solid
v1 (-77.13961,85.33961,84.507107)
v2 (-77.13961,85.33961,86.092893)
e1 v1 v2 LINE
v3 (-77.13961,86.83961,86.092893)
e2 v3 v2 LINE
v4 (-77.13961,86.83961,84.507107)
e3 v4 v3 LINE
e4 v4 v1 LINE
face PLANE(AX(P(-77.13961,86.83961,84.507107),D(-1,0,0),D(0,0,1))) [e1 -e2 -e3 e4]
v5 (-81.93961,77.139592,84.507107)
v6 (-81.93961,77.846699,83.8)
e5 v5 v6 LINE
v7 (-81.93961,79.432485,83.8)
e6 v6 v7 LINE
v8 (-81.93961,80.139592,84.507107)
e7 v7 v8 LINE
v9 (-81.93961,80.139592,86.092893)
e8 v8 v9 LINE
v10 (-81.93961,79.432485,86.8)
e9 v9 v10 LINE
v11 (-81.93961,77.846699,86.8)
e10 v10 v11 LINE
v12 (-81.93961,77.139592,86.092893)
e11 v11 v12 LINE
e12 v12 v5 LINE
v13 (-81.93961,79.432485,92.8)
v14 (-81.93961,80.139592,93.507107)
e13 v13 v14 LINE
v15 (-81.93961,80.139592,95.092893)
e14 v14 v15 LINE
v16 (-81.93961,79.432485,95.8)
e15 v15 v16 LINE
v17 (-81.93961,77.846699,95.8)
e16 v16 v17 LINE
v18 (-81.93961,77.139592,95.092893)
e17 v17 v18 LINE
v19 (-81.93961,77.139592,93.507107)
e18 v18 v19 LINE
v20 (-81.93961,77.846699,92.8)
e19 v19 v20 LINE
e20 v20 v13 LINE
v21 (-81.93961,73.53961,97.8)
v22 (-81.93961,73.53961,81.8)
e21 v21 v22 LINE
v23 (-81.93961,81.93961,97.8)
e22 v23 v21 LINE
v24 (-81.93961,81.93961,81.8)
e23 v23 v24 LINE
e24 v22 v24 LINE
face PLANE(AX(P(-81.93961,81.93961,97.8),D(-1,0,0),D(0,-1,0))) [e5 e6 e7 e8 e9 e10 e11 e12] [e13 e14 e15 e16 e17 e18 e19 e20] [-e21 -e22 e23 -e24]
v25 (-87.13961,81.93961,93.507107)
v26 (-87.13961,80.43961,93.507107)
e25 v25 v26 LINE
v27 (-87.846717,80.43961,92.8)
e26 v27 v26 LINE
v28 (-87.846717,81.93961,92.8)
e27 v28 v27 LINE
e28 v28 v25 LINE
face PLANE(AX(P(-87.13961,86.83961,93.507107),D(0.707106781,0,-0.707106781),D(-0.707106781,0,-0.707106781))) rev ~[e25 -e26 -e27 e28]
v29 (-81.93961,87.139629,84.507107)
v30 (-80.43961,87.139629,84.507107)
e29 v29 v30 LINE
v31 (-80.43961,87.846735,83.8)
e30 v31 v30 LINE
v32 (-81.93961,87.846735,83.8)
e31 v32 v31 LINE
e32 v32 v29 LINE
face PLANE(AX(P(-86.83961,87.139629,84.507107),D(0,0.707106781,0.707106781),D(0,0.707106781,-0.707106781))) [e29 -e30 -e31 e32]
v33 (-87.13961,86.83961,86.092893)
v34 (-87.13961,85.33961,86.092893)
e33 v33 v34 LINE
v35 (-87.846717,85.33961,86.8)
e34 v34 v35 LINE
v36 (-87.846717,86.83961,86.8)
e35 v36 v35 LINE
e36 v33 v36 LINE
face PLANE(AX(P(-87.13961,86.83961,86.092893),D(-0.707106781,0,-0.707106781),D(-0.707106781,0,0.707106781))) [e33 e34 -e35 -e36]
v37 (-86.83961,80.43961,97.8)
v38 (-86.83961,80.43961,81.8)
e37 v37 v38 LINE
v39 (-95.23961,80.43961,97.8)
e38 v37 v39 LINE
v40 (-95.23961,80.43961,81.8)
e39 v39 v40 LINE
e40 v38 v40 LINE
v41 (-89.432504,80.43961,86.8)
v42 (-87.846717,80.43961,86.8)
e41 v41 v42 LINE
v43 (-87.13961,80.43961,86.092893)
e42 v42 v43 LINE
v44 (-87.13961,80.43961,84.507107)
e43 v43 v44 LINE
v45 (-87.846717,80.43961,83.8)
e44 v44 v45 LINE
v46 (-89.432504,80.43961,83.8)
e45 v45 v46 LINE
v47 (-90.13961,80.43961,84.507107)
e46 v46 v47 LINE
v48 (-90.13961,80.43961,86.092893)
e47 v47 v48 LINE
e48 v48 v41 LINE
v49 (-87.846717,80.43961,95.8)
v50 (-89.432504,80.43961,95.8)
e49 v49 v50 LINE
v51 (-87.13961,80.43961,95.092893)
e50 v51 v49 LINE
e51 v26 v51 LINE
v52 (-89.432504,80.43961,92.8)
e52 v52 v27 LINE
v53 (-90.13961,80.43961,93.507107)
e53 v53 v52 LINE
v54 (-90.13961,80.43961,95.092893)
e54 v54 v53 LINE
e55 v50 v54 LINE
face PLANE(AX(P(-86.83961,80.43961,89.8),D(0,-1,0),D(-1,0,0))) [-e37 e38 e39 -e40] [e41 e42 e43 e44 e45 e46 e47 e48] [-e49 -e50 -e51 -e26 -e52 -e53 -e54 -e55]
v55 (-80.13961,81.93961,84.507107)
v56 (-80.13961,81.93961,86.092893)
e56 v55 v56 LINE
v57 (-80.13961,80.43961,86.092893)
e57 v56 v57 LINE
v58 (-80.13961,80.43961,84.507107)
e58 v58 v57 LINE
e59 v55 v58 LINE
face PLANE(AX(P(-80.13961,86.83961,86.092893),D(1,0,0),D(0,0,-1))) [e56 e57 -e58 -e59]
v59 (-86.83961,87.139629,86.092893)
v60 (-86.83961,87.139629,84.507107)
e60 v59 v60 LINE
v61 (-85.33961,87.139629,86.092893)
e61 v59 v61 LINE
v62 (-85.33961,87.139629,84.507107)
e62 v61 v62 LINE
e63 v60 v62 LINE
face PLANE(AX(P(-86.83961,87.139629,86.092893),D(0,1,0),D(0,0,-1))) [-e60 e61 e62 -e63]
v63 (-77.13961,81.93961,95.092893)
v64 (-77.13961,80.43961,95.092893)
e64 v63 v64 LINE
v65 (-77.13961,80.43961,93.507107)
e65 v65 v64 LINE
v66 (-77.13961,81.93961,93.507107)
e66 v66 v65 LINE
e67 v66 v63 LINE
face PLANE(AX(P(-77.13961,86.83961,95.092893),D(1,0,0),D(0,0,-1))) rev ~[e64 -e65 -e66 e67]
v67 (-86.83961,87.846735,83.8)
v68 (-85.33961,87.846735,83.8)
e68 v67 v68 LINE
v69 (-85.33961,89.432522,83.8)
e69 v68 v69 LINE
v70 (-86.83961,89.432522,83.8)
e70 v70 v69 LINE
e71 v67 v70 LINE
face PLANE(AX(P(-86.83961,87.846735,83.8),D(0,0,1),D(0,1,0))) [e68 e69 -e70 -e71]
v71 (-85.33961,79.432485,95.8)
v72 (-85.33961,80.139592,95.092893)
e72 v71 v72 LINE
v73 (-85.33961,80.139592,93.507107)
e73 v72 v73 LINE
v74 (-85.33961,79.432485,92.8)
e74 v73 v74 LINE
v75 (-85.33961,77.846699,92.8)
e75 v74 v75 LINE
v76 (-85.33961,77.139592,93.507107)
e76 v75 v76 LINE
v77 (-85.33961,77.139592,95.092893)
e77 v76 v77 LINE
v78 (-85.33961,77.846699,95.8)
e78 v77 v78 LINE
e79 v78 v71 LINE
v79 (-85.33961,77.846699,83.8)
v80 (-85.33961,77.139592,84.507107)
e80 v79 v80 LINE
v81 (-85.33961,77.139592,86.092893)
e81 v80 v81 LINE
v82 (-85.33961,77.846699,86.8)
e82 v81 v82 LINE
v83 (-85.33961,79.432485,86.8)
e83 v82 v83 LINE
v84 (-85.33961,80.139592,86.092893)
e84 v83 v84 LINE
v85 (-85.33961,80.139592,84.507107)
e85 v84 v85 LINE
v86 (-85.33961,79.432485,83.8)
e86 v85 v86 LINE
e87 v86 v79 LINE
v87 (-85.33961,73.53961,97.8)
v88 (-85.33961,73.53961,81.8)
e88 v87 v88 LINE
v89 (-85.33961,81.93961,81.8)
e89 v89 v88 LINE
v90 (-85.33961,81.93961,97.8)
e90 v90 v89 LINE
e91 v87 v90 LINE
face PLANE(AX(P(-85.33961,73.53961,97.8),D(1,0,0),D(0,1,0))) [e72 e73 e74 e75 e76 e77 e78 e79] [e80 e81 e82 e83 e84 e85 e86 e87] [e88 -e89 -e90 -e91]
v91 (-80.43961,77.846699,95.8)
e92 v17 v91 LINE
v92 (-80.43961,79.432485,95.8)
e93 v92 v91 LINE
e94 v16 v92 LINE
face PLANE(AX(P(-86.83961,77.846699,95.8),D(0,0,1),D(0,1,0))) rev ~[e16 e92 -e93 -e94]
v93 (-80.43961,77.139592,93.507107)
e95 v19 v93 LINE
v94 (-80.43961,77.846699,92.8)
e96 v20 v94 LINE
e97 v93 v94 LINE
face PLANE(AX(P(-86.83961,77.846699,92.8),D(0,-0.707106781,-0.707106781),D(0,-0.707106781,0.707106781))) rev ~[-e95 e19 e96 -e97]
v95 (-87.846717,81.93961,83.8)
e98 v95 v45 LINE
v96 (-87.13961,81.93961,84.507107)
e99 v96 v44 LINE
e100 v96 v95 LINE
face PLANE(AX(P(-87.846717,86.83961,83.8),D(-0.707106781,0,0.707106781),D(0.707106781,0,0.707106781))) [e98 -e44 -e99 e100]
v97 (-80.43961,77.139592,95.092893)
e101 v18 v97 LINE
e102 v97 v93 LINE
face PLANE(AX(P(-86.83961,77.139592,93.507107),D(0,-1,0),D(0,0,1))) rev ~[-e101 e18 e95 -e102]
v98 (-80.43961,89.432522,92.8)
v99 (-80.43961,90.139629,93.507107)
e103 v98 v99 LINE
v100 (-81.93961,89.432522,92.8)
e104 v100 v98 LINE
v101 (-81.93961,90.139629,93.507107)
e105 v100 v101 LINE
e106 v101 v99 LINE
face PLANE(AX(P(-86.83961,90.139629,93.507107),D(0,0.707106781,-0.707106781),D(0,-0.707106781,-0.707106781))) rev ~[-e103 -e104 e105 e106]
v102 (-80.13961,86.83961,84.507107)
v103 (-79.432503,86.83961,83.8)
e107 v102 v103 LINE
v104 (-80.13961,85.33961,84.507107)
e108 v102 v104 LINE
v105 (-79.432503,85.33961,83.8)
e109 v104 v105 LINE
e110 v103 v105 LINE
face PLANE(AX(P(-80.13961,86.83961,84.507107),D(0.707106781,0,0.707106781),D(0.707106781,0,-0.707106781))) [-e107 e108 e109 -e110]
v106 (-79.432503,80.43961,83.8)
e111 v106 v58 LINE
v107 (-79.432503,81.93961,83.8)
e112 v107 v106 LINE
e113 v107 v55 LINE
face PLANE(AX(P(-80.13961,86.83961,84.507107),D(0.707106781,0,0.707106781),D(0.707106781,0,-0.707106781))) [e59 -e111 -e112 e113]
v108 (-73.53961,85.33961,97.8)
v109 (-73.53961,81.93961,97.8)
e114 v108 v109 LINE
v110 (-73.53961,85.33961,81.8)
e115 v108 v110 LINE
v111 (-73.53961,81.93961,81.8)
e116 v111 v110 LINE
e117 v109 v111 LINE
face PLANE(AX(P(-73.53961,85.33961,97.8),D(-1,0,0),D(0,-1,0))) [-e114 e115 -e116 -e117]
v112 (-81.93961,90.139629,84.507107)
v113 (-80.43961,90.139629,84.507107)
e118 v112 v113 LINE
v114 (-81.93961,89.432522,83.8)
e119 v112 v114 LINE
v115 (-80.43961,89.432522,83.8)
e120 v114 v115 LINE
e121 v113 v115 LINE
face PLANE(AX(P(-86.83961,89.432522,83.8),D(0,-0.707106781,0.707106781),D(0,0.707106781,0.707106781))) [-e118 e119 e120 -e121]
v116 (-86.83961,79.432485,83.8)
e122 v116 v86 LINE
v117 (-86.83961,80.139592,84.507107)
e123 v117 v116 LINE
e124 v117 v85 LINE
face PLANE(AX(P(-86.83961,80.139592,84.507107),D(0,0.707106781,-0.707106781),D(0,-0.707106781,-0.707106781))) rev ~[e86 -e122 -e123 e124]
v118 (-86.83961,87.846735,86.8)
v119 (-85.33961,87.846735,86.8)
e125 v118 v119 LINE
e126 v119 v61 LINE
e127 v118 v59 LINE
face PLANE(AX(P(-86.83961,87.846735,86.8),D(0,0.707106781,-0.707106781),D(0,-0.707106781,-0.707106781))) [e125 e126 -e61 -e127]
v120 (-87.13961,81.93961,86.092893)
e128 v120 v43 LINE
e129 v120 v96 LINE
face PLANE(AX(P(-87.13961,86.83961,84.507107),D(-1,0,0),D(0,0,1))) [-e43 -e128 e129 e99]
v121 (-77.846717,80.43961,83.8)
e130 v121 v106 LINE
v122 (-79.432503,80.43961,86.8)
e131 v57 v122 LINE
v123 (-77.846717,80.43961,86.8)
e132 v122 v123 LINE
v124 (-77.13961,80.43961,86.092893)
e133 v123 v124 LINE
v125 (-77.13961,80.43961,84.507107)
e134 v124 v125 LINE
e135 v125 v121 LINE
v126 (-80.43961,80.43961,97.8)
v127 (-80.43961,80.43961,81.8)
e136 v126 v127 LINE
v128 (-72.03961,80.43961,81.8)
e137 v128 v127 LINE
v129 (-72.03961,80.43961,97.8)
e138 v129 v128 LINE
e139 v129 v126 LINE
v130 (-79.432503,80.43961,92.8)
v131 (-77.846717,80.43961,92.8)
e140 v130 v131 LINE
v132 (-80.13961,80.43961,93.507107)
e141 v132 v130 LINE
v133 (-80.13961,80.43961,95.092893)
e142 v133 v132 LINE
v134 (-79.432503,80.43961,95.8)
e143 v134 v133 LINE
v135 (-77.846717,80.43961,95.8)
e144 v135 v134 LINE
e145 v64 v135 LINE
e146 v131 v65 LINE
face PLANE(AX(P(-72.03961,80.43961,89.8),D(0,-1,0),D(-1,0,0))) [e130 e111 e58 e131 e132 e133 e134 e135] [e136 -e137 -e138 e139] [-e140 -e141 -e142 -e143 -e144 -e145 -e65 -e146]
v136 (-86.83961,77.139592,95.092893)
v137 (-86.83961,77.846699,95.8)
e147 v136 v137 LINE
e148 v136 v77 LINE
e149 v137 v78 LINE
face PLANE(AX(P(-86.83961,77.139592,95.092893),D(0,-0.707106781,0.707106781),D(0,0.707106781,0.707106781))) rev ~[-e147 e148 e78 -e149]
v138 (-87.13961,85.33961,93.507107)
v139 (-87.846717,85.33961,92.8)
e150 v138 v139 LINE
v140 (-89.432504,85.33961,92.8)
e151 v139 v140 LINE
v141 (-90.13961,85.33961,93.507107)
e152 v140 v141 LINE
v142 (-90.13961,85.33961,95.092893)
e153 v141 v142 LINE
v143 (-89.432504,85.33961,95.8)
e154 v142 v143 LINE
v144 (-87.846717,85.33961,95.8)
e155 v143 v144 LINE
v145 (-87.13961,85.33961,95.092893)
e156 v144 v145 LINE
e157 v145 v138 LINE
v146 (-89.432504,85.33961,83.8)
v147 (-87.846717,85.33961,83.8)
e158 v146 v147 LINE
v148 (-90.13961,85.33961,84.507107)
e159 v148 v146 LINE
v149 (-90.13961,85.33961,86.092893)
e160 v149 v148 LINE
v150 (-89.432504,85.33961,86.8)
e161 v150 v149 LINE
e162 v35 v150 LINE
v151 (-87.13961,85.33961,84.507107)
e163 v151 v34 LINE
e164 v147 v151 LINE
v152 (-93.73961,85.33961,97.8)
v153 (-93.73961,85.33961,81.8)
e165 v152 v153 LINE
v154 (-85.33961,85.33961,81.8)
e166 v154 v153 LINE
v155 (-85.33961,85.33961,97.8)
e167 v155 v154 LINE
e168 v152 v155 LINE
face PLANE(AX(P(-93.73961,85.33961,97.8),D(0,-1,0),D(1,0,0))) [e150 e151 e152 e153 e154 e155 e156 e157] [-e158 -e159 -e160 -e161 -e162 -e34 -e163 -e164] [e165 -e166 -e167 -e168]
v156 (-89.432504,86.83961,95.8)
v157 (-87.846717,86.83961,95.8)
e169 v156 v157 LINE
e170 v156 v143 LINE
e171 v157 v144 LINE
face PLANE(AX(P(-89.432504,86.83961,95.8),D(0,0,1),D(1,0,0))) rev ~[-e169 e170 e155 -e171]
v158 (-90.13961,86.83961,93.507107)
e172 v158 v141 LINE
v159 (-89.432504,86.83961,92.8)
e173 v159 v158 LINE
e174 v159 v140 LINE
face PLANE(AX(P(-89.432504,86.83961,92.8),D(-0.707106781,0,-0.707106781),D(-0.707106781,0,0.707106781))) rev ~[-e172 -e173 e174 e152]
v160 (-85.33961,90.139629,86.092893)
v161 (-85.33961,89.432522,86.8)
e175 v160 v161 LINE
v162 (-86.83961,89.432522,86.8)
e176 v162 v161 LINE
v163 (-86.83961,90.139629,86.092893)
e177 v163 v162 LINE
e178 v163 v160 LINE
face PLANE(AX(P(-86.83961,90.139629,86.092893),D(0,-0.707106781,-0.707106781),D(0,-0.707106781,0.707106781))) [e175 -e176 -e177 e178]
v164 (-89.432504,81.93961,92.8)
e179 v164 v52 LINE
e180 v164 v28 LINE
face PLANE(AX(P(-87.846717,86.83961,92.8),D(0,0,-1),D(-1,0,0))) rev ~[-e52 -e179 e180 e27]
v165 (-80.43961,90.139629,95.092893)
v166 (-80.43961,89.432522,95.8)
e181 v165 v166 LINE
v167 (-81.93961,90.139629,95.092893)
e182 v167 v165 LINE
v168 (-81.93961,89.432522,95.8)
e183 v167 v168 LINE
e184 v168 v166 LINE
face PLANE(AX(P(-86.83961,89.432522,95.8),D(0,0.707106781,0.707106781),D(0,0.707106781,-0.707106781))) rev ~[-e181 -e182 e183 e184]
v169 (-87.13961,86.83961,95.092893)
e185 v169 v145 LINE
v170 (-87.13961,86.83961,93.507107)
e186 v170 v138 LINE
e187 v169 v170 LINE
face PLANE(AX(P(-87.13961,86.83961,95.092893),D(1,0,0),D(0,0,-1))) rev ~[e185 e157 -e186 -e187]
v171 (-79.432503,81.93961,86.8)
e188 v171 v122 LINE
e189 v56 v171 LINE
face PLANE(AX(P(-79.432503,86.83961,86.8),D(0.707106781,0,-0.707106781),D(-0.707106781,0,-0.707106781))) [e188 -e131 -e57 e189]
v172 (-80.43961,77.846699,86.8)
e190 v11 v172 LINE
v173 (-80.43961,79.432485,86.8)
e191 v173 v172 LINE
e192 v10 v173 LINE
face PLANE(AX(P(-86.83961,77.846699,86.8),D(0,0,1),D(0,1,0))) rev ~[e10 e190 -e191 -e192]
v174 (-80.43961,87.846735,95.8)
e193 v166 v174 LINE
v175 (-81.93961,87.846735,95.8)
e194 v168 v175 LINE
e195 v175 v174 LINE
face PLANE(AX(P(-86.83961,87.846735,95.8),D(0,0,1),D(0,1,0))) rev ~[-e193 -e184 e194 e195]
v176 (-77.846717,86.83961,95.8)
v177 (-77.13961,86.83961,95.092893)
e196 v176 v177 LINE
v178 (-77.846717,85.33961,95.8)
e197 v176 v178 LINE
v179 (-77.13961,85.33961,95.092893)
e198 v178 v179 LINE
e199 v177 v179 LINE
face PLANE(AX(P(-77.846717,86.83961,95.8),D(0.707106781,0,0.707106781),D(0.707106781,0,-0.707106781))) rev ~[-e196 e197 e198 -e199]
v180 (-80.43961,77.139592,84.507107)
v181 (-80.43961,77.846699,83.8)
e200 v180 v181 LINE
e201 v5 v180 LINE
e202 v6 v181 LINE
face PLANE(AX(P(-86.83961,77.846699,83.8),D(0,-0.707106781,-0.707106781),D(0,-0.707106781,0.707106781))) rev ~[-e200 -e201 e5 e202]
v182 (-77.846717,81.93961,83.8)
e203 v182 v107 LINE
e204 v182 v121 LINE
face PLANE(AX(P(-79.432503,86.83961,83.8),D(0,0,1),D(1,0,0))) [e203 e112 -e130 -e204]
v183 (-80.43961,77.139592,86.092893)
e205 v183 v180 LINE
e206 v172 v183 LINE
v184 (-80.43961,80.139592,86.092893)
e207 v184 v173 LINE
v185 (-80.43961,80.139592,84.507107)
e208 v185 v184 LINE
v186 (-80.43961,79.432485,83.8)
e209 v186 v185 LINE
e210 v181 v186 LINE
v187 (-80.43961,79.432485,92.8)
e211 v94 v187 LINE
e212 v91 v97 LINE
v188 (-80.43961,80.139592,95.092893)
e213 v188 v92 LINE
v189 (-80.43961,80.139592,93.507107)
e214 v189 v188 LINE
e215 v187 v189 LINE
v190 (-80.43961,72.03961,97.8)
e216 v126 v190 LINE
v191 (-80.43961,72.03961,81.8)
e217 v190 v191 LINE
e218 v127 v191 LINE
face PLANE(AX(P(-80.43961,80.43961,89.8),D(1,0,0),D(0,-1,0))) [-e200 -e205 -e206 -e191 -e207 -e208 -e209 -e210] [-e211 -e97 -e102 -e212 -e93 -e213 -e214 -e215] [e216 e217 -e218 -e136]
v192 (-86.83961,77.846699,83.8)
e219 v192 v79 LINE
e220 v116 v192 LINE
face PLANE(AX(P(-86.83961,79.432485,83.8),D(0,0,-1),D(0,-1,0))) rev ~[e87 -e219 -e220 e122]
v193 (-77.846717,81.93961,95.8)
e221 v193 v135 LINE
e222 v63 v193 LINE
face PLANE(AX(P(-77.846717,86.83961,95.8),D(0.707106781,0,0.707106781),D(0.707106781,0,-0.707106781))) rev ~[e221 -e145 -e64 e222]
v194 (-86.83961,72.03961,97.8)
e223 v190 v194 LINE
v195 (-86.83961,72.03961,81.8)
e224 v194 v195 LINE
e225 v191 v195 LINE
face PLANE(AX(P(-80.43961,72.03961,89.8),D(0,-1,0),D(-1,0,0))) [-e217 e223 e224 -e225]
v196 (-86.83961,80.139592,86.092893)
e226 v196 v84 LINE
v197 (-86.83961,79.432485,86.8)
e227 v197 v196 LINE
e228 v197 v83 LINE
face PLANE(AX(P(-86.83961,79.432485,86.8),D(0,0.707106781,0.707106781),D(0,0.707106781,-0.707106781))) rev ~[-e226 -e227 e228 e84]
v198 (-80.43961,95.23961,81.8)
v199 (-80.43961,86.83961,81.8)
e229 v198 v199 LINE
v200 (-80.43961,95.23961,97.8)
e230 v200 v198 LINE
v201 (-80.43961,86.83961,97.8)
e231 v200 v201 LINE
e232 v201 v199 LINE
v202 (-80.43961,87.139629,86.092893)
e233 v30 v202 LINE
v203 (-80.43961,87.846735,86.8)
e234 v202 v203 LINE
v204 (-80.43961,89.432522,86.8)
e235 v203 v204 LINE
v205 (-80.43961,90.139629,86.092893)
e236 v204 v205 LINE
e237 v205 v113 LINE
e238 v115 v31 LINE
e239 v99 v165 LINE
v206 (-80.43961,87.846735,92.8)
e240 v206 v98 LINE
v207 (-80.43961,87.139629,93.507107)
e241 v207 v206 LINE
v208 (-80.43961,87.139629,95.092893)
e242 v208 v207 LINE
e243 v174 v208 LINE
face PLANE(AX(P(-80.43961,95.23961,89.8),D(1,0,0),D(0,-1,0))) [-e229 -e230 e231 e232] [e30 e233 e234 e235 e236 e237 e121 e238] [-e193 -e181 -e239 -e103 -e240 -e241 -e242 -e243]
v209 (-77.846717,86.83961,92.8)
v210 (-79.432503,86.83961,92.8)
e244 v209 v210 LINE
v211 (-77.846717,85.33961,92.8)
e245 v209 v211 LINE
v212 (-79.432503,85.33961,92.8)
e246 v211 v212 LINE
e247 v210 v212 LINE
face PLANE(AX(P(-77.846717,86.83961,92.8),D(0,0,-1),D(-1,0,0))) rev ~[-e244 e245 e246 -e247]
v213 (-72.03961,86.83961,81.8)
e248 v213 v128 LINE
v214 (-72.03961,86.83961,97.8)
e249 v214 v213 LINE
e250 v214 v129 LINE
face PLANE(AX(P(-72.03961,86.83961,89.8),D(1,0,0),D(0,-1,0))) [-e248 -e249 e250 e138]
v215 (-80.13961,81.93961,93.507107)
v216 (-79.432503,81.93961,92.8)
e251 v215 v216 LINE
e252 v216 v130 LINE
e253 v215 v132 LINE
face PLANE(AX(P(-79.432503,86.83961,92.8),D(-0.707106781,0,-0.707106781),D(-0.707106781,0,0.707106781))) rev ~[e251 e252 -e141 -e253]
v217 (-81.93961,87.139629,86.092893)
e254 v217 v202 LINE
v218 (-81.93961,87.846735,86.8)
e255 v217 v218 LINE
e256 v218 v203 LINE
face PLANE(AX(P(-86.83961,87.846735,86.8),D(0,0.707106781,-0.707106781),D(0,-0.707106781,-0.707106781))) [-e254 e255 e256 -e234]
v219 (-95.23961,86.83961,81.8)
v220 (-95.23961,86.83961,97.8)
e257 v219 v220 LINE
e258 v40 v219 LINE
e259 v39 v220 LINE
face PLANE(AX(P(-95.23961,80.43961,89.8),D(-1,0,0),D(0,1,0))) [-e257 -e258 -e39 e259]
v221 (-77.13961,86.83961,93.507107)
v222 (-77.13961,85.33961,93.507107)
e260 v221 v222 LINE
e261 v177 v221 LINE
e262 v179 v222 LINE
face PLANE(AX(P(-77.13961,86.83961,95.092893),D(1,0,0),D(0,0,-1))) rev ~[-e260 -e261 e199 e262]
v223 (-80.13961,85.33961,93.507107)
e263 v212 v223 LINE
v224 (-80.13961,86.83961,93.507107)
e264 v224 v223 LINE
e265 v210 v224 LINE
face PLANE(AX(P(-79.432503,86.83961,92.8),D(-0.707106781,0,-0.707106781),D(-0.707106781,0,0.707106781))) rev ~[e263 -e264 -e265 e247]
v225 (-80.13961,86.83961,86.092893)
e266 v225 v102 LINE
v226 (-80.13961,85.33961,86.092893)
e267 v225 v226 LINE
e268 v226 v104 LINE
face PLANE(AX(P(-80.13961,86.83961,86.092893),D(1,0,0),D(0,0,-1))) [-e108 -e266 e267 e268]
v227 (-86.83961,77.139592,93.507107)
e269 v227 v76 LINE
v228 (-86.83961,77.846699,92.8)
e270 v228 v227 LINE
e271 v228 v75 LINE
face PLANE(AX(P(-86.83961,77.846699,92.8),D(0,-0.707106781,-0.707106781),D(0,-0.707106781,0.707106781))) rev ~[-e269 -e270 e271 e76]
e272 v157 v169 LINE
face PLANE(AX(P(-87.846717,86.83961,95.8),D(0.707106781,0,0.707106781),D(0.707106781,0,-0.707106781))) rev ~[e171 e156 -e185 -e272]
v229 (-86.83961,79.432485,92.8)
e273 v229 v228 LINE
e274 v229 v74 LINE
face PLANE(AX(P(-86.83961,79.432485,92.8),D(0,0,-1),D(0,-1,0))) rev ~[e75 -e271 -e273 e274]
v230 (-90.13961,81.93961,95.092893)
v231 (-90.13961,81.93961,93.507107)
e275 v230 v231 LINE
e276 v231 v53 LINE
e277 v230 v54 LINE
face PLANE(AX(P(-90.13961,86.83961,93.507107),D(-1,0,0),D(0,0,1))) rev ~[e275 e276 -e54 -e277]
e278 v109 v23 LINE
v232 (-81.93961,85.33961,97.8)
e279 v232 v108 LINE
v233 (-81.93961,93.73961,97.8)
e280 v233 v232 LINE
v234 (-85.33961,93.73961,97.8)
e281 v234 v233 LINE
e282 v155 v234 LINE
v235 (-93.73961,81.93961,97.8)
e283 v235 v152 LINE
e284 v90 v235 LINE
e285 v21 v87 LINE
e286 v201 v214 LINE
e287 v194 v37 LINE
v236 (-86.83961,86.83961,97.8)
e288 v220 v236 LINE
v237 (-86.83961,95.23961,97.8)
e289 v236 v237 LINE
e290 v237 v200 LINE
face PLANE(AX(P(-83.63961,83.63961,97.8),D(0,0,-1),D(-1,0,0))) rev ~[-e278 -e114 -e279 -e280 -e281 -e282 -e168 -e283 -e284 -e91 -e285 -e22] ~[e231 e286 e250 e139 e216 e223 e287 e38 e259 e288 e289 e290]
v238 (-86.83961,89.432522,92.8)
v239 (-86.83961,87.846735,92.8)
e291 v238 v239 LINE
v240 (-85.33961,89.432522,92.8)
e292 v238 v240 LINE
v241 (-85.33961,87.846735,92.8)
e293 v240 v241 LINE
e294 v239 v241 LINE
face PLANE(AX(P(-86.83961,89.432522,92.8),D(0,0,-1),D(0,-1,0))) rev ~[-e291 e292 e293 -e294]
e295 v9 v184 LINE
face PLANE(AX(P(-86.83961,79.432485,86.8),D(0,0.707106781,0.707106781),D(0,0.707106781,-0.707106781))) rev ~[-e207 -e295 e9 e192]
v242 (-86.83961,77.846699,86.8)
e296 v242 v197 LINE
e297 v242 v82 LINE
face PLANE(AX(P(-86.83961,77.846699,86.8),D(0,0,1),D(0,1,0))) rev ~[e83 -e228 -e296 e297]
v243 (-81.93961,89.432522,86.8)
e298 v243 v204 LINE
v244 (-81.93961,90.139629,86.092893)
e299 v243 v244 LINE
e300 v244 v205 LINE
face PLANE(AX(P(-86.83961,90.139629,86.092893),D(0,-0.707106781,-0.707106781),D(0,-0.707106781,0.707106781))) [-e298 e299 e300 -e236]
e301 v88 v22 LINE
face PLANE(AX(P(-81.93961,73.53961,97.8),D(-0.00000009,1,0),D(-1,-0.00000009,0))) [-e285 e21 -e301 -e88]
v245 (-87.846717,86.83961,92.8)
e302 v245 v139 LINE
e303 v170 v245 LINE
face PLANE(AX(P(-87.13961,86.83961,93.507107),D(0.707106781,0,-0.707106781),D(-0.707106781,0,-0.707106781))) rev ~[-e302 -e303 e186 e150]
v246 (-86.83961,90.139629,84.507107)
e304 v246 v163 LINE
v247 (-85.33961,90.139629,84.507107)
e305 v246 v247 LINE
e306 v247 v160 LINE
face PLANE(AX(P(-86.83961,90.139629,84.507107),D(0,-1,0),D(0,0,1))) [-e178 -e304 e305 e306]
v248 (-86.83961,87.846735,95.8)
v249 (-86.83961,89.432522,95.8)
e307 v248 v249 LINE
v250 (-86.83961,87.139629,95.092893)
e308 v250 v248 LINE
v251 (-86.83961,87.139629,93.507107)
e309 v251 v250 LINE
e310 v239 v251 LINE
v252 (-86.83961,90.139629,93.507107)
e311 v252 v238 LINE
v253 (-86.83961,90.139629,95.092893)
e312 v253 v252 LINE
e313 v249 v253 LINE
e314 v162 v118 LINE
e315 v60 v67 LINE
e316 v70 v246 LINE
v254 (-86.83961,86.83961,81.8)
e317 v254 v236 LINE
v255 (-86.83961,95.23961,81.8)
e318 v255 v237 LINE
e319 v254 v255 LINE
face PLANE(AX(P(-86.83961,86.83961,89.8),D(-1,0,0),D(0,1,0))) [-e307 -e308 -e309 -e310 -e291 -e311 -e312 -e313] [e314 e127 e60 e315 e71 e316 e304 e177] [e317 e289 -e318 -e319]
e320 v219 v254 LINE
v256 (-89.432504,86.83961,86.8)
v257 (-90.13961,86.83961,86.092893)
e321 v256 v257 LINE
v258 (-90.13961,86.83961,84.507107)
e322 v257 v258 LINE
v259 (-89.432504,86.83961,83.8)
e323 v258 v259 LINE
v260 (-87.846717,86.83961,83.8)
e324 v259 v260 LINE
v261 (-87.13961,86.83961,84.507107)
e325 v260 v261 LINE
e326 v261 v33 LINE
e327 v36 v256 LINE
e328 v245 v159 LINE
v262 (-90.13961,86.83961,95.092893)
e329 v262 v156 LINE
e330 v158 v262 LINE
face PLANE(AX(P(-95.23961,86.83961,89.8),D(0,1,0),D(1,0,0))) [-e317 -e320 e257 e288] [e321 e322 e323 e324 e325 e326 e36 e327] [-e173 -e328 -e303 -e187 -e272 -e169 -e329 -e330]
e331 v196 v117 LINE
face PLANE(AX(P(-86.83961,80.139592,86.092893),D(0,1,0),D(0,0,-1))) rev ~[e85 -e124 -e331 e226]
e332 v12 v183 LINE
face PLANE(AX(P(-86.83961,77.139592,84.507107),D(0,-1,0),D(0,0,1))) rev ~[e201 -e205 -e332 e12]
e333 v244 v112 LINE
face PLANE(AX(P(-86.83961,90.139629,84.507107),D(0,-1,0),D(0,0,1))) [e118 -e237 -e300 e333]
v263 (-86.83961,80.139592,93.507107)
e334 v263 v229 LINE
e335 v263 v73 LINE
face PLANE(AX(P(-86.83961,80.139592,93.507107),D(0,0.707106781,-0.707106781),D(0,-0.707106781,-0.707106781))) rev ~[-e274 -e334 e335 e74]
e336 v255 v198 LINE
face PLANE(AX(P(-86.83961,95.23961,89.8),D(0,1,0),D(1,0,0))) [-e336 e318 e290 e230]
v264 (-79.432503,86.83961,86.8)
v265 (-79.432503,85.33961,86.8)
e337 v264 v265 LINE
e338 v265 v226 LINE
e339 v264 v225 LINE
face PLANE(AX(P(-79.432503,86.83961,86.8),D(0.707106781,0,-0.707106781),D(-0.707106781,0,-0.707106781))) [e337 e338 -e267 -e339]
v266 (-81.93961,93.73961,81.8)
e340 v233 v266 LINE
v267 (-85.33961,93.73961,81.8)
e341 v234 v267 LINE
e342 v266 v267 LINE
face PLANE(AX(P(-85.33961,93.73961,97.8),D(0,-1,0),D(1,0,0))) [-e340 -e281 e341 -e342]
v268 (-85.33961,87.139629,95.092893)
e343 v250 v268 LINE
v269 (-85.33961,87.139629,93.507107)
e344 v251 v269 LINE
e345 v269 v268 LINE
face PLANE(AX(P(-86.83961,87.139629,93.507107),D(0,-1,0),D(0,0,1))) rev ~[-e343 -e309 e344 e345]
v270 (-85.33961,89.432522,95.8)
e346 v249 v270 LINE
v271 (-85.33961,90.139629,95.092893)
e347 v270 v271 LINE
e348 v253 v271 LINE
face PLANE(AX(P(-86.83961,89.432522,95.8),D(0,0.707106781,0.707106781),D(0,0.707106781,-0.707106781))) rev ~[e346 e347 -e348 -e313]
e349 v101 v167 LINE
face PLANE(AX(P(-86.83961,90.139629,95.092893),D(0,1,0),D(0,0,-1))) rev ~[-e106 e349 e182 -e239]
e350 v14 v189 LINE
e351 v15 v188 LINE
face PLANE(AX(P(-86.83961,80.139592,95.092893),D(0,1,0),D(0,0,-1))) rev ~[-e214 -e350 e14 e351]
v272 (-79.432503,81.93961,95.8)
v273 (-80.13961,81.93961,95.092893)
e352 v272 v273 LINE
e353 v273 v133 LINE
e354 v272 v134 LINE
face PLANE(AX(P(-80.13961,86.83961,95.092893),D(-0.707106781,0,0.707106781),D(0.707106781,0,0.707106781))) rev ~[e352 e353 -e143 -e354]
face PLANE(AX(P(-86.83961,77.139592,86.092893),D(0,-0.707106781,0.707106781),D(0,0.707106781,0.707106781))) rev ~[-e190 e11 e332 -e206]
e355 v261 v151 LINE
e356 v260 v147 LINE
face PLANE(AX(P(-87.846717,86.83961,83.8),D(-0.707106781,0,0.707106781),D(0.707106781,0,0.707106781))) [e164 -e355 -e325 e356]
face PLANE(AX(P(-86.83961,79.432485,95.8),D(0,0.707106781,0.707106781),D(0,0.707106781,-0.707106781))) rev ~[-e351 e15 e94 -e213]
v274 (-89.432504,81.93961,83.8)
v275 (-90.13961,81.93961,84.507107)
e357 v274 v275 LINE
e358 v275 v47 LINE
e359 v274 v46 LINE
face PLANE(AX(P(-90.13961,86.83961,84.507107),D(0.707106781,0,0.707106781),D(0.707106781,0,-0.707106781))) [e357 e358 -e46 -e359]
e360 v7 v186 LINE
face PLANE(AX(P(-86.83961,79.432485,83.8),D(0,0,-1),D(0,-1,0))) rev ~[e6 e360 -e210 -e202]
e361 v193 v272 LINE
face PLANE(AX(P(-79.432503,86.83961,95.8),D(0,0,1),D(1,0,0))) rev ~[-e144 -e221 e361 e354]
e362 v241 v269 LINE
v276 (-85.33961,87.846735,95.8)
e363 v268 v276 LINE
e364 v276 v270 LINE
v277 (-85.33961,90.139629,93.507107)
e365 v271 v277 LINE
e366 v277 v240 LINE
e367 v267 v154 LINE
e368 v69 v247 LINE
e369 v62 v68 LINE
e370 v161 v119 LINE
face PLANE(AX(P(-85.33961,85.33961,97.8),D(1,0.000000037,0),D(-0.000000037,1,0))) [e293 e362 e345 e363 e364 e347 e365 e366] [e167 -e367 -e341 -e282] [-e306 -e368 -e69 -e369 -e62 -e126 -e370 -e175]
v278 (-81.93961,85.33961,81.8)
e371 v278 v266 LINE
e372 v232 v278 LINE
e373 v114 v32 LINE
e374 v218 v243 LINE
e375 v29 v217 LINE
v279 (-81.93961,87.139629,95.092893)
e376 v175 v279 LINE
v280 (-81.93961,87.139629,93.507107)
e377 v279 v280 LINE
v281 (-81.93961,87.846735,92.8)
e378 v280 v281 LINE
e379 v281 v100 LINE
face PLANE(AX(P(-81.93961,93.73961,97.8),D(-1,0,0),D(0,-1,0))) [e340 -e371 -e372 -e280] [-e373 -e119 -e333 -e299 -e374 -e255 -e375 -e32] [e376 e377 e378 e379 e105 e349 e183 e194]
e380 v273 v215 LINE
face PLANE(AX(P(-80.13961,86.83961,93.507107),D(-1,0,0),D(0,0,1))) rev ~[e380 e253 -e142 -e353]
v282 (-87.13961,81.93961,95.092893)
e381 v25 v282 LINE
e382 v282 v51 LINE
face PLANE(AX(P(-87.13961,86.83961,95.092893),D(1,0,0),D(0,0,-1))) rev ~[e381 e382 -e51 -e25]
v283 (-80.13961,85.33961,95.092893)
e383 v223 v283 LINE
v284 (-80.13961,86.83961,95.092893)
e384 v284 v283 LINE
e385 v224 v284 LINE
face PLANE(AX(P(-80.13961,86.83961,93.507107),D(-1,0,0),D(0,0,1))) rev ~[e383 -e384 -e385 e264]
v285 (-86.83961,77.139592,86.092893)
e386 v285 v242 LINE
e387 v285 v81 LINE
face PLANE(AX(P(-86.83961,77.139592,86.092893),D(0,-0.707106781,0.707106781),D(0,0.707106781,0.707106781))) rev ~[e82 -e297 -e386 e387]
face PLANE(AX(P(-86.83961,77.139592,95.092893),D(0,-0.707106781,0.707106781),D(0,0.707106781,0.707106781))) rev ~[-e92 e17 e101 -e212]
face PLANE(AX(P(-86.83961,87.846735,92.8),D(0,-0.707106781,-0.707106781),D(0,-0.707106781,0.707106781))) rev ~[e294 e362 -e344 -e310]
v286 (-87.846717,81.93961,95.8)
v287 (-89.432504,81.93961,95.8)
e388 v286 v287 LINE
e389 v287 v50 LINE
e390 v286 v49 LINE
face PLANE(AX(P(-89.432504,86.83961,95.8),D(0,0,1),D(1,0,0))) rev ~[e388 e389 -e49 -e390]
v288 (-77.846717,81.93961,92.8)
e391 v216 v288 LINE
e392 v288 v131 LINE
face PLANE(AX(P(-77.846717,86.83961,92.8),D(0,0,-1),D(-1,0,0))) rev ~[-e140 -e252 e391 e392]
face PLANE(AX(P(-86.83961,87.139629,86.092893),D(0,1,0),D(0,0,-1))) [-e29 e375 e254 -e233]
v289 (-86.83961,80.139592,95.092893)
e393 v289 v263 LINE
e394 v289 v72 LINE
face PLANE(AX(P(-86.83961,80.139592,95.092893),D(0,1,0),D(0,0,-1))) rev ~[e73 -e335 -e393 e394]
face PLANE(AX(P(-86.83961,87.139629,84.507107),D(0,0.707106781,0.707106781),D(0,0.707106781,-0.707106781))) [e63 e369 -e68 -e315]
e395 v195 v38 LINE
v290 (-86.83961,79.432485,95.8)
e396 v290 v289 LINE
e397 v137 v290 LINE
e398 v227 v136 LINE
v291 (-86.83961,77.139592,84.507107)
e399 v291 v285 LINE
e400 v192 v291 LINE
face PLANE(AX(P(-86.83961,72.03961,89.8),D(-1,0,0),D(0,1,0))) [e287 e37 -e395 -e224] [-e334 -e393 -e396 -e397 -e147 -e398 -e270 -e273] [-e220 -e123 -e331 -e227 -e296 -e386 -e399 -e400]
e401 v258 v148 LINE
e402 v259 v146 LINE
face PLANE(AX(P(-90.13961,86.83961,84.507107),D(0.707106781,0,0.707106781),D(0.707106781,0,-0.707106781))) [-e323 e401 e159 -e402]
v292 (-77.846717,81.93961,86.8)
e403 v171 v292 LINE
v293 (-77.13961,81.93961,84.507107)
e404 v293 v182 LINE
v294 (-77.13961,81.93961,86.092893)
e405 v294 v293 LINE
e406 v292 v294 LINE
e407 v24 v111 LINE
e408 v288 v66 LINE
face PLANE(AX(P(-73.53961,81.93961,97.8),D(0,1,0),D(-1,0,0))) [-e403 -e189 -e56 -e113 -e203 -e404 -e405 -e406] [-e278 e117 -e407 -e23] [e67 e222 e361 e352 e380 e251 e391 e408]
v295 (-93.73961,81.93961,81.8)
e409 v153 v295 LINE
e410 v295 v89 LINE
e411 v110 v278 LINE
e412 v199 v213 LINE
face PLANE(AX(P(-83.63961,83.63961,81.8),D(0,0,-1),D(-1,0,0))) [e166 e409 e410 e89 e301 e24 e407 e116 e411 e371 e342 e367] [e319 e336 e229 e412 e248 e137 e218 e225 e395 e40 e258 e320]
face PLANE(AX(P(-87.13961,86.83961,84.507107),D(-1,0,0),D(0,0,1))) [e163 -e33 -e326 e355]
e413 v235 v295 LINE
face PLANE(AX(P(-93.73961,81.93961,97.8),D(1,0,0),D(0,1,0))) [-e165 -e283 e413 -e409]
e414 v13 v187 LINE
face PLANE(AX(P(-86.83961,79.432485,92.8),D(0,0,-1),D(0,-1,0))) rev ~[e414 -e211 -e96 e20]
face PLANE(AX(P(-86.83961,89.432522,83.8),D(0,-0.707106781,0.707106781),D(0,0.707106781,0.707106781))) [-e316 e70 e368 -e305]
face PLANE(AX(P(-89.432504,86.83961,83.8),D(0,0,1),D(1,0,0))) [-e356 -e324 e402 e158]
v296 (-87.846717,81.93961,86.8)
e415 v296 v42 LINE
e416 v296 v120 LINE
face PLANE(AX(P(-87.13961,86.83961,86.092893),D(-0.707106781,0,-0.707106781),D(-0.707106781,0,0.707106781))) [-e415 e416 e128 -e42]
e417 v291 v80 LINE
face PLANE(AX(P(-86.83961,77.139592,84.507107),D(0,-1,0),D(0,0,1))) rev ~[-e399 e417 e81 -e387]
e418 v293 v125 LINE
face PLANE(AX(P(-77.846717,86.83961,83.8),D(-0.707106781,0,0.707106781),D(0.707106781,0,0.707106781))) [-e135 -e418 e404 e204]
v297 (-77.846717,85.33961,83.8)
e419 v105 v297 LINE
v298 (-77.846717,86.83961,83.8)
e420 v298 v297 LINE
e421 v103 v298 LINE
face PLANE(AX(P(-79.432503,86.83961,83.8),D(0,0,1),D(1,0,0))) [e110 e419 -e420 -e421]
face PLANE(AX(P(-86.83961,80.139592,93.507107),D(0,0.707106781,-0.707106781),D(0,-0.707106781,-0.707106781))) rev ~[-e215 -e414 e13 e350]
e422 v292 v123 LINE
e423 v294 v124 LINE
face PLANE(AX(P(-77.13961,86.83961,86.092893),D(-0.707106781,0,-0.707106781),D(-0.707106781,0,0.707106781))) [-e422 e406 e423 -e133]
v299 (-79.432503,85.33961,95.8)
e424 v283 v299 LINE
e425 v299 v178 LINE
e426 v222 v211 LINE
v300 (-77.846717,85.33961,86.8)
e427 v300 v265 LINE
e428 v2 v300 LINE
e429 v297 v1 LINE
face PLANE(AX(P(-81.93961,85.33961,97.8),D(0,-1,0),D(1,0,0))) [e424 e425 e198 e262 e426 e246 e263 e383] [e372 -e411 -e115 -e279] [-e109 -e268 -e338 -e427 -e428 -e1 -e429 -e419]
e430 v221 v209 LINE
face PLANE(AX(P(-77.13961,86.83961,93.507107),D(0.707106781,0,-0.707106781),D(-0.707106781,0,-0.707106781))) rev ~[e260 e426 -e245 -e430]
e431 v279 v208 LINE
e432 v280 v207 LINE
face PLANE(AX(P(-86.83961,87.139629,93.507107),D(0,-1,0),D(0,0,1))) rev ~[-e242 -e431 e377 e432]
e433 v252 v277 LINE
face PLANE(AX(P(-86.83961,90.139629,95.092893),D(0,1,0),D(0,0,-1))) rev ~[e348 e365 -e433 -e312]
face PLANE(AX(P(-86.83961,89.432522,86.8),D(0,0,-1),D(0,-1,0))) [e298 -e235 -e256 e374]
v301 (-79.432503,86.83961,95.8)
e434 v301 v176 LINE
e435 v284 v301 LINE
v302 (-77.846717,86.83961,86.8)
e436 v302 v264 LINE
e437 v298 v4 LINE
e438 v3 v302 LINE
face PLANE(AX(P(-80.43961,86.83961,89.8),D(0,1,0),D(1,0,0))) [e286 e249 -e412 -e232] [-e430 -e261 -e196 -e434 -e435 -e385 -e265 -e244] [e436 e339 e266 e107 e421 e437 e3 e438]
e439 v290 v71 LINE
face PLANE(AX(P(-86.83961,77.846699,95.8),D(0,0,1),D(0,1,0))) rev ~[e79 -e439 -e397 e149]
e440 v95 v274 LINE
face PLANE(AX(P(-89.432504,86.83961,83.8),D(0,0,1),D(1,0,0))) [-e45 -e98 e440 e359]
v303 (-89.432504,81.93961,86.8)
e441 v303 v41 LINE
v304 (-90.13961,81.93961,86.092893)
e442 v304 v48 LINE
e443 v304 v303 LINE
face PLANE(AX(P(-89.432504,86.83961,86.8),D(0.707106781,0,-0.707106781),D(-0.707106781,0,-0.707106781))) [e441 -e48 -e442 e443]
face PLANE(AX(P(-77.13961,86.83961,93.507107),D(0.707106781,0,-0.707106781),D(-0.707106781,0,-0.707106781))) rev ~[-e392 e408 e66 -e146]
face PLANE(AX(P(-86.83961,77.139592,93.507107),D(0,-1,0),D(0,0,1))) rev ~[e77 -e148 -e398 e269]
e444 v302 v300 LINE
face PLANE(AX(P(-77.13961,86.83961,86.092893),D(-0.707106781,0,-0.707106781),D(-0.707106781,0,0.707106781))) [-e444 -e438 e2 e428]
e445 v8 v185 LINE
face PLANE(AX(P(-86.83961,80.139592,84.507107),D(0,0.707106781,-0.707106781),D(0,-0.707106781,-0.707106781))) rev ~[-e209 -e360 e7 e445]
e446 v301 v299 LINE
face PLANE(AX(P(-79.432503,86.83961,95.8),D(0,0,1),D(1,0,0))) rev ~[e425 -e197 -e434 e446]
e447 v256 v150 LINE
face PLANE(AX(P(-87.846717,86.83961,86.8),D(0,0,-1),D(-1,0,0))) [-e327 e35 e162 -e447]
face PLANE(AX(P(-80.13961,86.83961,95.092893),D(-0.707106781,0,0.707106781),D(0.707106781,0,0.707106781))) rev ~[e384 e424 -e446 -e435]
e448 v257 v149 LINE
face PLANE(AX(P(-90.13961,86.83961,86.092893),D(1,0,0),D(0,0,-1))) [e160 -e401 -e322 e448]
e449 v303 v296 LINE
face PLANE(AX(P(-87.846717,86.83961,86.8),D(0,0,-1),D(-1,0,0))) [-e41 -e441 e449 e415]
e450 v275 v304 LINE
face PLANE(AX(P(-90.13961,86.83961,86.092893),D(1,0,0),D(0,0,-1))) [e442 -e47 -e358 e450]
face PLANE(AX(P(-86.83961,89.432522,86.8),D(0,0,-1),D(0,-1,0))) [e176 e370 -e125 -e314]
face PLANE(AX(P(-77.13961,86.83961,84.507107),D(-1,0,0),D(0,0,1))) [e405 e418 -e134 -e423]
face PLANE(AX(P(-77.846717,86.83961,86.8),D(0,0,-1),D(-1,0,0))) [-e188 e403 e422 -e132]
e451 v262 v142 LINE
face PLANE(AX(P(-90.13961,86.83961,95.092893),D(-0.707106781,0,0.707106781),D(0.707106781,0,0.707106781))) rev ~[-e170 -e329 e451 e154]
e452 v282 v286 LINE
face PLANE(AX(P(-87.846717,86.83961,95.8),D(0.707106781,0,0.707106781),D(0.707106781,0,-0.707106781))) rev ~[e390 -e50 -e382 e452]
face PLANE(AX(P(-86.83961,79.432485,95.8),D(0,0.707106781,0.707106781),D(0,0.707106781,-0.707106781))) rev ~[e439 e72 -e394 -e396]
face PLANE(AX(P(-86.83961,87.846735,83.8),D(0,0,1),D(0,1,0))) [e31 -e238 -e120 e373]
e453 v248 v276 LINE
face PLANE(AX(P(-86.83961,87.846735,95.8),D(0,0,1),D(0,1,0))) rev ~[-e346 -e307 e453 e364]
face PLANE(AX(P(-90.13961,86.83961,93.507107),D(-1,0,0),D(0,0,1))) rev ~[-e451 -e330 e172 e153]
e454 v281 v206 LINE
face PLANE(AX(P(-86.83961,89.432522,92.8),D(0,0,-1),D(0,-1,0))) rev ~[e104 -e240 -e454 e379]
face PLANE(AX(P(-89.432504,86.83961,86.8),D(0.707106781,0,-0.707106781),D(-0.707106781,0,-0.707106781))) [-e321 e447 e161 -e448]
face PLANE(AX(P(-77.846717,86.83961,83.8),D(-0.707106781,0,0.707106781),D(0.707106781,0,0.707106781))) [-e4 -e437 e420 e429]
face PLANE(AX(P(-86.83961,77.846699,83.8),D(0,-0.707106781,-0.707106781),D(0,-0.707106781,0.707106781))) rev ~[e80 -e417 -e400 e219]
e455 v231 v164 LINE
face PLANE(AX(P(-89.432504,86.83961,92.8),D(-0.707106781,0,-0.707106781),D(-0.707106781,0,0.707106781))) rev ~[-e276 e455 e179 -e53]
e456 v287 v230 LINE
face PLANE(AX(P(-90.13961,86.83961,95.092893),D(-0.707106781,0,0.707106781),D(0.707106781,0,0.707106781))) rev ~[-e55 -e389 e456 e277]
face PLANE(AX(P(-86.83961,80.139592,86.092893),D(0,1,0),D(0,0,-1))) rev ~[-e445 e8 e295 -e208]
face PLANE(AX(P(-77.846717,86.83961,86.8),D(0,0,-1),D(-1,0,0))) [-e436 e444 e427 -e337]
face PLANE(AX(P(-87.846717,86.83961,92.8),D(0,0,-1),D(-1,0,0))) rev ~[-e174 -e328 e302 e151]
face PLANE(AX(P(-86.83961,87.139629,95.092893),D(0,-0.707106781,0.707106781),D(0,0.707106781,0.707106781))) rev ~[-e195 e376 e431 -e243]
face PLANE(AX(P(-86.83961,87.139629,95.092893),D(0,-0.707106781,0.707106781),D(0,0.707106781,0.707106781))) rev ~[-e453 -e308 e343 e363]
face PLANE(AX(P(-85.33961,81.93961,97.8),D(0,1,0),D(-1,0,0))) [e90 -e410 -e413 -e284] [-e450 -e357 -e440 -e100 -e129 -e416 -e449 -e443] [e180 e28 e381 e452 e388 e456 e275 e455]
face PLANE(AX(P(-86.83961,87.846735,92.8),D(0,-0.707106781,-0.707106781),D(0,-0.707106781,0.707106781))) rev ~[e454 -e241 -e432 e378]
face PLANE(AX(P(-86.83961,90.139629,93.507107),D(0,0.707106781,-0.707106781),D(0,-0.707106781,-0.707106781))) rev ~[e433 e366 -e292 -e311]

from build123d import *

# Parameters (mm, degrees)
PAD040_DEPTH    = 8
PAD041_DEPTH    = 8
POCKET029_DEPTH = 14.801
POCKET030_DEPTH = 14.801
POCKET031_DEPTH = 16.001


with BuildPart() as part:
    # Sketch069 (on Face4 of Binder015) → Pad040 (new body)
    with BuildSketch(Plane.XY.offset(89.8)):
        Polygon((-86.8396103068, 95.2396103068), (-80.4396103068, 95.2396103068), (-80.4396103068, 86.8396103068), (-72.0396103068, 86.8396103068), (-72.0396103068, 80.4396103068), (-80.4396103068, 80.4396103068), (-80.4396103068, 72.0396103068), (-86.8396103068, 72.0396103068), (-86.8396103068, 80.4396103068), (-95.2396103068, 80.4396103068), (-95.2396103068, 86.8396103068), (-86.8396103068, 86.8396103068), align=None)
    extrude(amount=-PAD040_DEPTH)

    # Sketch070 (on Face13 of Pad040) → Pad041 (join)
    with BuildSketch(Plane.XY.offset(89.8)):
        Polygon((-86.8396103068, 95.2396103068), (-80.4396103068, 95.2396103068), (-80.4396103068, 86.8396103068), (-72.0396103068, 86.8396103068), (-72.0396103068, 80.4396103068), (-80.4396103068, 80.4396103068), (-80.4396103068, 72.0396103068), (-86.8396103068, 72.0396103068), (-86.8396103068, 80.4396103068), (-95.2396103068, 80.4396103068), (-95.2396103068, 86.8396103068), (-86.8396103068, 86.8396103068), align=None)
    extrude(amount=PAD041_DEPTH)

    # Sketch071 (on Face5 of Pad041) → Pocket029 (cut, through all)
    with BuildSketch(Plane(origin=(-86.8396103068, 0, 0), x_dir=(0, -1, 0), z_dir=(-1, 0, 0))):
        Polygon((-89.4325218802, 86.8), (-87.8467354426, 86.8), (-87.1396286614, 86.0928932188), (-87.1396286614, 84.5071067812), (-87.8467354426, 83.8), (-89.4325218802, 83.8), (-90.1396286614, 84.5071067812), (-90.1396286614, 86.0928932188), align=None)
        Polygon((-80.1395919522, 86.0928932188), (-80.1395919522, 84.5071067812), (-79.432485171, 83.8), (-77.8466987333, 83.8), (-77.1395919522, 84.5071067812), (-77.1395919522, 86.0928932188), (-77.8466987333, 86.8), (-79.432485171, 86.8), align=None)
        Polygon((-89.4325218802, 92.8), (-87.8467354426, 92.8), (-87.1396286614, 93.5071067812), (-87.1396286614, 95.0928932188), (-87.8467354426, 95.8), (-89.4325218802, 95.8), (-90.1396286614, 95.0928932188), (-90.1396286614, 93.5071067812), align=None)
        Polygon((-77.8466987333, 95.8), (-79.432485171, 95.8), (-80.1395919522, 95.0928932188), (-80.1395919522, 93.5071067812), (-79.432485171, 92.8), (-77.8466987333, 92.8), (-77.1395919522, 93.5071067812), (-77.1395919522, 95.0928932188), align=None)
    extrude(amount=-POCKET029_DEPTH, mode=Mode.SUBTRACT)

    # Sketch072 (on Face4 of Pocket029) → Pocket030 (cut, through all)
    with BuildSketch(Plane(origin=(0, 86.8396103068, 0), x_dir=(-1, 0, 0), z_dir=(0, 1, 0))):
        Polygon((77.8467170496, 86.8), (79.4325034872, 86.8), (80.1396102684, 86.0928932188), (80.1396102684, 84.5071067812), (79.4325034872, 83.8), (77.8467170496, 83.8), (77.1396102684, 84.5071067812), (77.1396102684, 86.0928932188), align=None)
        Polygon((87.8467171264, 86.8), (89.432503564, 86.8), (90.1396103452, 86.0928932188), (90.1396103452, 84.5071067812), (89.432503564, 83.8), (87.8467171264, 83.8), (87.1396103452, 84.5071067812), (87.1396103452, 86.0928932188), align=None)
        Polygon((77.1396102684, 95.0928932188), (77.1396102684, 93.5071067812), (77.8467170496, 92.8), (79.4325034872, 92.8), (80.1396102684, 93.5071067812), (80.1396102684, 95.0928932188), (79.4325034872, 95.8), (77.8467170496, 95.8), align=None)
        Polygon((87.1396103452, 95.0928932188), (87.1396103452, 93.5071067812), (87.8467171264, 92.8), (89.432503564, 92.8), (90.1396103452, 93.5071067812), (90.1396103452, 95.0928932188), (89.432503564, 95.8), (87.8467171264, 95.8), align=None)
    extrude(amount=-POCKET030_DEPTH, mode=Mode.SUBTRACT)

    # Sketch073 (on Face1 of Pocket030) → Pocket031 (cut, through all)
    with BuildSketch(Plane.XY.offset(97.8)):
        Polygon((-85.3396103068, 93.7396103068), (-81.9396103068, 93.7396103068), (-81.9396103068, 85.3396103068), (-73.5396103068, 85.3396103068), (-73.5396103068, 81.9396103068), (-81.9396103068, 81.9396103068), (-81.9396103068, 73.5396103068), (-85.33961, 73.53961), (-85.33961, 81.93961), (-93.73961, 81.93961), (-93.73961, 85.33961), (-85.33961, 85.33961), align=None)
    extrude(amount=-POCKET031_DEPTH, mode=Mode.SUBTRACT)


solid = part.part
